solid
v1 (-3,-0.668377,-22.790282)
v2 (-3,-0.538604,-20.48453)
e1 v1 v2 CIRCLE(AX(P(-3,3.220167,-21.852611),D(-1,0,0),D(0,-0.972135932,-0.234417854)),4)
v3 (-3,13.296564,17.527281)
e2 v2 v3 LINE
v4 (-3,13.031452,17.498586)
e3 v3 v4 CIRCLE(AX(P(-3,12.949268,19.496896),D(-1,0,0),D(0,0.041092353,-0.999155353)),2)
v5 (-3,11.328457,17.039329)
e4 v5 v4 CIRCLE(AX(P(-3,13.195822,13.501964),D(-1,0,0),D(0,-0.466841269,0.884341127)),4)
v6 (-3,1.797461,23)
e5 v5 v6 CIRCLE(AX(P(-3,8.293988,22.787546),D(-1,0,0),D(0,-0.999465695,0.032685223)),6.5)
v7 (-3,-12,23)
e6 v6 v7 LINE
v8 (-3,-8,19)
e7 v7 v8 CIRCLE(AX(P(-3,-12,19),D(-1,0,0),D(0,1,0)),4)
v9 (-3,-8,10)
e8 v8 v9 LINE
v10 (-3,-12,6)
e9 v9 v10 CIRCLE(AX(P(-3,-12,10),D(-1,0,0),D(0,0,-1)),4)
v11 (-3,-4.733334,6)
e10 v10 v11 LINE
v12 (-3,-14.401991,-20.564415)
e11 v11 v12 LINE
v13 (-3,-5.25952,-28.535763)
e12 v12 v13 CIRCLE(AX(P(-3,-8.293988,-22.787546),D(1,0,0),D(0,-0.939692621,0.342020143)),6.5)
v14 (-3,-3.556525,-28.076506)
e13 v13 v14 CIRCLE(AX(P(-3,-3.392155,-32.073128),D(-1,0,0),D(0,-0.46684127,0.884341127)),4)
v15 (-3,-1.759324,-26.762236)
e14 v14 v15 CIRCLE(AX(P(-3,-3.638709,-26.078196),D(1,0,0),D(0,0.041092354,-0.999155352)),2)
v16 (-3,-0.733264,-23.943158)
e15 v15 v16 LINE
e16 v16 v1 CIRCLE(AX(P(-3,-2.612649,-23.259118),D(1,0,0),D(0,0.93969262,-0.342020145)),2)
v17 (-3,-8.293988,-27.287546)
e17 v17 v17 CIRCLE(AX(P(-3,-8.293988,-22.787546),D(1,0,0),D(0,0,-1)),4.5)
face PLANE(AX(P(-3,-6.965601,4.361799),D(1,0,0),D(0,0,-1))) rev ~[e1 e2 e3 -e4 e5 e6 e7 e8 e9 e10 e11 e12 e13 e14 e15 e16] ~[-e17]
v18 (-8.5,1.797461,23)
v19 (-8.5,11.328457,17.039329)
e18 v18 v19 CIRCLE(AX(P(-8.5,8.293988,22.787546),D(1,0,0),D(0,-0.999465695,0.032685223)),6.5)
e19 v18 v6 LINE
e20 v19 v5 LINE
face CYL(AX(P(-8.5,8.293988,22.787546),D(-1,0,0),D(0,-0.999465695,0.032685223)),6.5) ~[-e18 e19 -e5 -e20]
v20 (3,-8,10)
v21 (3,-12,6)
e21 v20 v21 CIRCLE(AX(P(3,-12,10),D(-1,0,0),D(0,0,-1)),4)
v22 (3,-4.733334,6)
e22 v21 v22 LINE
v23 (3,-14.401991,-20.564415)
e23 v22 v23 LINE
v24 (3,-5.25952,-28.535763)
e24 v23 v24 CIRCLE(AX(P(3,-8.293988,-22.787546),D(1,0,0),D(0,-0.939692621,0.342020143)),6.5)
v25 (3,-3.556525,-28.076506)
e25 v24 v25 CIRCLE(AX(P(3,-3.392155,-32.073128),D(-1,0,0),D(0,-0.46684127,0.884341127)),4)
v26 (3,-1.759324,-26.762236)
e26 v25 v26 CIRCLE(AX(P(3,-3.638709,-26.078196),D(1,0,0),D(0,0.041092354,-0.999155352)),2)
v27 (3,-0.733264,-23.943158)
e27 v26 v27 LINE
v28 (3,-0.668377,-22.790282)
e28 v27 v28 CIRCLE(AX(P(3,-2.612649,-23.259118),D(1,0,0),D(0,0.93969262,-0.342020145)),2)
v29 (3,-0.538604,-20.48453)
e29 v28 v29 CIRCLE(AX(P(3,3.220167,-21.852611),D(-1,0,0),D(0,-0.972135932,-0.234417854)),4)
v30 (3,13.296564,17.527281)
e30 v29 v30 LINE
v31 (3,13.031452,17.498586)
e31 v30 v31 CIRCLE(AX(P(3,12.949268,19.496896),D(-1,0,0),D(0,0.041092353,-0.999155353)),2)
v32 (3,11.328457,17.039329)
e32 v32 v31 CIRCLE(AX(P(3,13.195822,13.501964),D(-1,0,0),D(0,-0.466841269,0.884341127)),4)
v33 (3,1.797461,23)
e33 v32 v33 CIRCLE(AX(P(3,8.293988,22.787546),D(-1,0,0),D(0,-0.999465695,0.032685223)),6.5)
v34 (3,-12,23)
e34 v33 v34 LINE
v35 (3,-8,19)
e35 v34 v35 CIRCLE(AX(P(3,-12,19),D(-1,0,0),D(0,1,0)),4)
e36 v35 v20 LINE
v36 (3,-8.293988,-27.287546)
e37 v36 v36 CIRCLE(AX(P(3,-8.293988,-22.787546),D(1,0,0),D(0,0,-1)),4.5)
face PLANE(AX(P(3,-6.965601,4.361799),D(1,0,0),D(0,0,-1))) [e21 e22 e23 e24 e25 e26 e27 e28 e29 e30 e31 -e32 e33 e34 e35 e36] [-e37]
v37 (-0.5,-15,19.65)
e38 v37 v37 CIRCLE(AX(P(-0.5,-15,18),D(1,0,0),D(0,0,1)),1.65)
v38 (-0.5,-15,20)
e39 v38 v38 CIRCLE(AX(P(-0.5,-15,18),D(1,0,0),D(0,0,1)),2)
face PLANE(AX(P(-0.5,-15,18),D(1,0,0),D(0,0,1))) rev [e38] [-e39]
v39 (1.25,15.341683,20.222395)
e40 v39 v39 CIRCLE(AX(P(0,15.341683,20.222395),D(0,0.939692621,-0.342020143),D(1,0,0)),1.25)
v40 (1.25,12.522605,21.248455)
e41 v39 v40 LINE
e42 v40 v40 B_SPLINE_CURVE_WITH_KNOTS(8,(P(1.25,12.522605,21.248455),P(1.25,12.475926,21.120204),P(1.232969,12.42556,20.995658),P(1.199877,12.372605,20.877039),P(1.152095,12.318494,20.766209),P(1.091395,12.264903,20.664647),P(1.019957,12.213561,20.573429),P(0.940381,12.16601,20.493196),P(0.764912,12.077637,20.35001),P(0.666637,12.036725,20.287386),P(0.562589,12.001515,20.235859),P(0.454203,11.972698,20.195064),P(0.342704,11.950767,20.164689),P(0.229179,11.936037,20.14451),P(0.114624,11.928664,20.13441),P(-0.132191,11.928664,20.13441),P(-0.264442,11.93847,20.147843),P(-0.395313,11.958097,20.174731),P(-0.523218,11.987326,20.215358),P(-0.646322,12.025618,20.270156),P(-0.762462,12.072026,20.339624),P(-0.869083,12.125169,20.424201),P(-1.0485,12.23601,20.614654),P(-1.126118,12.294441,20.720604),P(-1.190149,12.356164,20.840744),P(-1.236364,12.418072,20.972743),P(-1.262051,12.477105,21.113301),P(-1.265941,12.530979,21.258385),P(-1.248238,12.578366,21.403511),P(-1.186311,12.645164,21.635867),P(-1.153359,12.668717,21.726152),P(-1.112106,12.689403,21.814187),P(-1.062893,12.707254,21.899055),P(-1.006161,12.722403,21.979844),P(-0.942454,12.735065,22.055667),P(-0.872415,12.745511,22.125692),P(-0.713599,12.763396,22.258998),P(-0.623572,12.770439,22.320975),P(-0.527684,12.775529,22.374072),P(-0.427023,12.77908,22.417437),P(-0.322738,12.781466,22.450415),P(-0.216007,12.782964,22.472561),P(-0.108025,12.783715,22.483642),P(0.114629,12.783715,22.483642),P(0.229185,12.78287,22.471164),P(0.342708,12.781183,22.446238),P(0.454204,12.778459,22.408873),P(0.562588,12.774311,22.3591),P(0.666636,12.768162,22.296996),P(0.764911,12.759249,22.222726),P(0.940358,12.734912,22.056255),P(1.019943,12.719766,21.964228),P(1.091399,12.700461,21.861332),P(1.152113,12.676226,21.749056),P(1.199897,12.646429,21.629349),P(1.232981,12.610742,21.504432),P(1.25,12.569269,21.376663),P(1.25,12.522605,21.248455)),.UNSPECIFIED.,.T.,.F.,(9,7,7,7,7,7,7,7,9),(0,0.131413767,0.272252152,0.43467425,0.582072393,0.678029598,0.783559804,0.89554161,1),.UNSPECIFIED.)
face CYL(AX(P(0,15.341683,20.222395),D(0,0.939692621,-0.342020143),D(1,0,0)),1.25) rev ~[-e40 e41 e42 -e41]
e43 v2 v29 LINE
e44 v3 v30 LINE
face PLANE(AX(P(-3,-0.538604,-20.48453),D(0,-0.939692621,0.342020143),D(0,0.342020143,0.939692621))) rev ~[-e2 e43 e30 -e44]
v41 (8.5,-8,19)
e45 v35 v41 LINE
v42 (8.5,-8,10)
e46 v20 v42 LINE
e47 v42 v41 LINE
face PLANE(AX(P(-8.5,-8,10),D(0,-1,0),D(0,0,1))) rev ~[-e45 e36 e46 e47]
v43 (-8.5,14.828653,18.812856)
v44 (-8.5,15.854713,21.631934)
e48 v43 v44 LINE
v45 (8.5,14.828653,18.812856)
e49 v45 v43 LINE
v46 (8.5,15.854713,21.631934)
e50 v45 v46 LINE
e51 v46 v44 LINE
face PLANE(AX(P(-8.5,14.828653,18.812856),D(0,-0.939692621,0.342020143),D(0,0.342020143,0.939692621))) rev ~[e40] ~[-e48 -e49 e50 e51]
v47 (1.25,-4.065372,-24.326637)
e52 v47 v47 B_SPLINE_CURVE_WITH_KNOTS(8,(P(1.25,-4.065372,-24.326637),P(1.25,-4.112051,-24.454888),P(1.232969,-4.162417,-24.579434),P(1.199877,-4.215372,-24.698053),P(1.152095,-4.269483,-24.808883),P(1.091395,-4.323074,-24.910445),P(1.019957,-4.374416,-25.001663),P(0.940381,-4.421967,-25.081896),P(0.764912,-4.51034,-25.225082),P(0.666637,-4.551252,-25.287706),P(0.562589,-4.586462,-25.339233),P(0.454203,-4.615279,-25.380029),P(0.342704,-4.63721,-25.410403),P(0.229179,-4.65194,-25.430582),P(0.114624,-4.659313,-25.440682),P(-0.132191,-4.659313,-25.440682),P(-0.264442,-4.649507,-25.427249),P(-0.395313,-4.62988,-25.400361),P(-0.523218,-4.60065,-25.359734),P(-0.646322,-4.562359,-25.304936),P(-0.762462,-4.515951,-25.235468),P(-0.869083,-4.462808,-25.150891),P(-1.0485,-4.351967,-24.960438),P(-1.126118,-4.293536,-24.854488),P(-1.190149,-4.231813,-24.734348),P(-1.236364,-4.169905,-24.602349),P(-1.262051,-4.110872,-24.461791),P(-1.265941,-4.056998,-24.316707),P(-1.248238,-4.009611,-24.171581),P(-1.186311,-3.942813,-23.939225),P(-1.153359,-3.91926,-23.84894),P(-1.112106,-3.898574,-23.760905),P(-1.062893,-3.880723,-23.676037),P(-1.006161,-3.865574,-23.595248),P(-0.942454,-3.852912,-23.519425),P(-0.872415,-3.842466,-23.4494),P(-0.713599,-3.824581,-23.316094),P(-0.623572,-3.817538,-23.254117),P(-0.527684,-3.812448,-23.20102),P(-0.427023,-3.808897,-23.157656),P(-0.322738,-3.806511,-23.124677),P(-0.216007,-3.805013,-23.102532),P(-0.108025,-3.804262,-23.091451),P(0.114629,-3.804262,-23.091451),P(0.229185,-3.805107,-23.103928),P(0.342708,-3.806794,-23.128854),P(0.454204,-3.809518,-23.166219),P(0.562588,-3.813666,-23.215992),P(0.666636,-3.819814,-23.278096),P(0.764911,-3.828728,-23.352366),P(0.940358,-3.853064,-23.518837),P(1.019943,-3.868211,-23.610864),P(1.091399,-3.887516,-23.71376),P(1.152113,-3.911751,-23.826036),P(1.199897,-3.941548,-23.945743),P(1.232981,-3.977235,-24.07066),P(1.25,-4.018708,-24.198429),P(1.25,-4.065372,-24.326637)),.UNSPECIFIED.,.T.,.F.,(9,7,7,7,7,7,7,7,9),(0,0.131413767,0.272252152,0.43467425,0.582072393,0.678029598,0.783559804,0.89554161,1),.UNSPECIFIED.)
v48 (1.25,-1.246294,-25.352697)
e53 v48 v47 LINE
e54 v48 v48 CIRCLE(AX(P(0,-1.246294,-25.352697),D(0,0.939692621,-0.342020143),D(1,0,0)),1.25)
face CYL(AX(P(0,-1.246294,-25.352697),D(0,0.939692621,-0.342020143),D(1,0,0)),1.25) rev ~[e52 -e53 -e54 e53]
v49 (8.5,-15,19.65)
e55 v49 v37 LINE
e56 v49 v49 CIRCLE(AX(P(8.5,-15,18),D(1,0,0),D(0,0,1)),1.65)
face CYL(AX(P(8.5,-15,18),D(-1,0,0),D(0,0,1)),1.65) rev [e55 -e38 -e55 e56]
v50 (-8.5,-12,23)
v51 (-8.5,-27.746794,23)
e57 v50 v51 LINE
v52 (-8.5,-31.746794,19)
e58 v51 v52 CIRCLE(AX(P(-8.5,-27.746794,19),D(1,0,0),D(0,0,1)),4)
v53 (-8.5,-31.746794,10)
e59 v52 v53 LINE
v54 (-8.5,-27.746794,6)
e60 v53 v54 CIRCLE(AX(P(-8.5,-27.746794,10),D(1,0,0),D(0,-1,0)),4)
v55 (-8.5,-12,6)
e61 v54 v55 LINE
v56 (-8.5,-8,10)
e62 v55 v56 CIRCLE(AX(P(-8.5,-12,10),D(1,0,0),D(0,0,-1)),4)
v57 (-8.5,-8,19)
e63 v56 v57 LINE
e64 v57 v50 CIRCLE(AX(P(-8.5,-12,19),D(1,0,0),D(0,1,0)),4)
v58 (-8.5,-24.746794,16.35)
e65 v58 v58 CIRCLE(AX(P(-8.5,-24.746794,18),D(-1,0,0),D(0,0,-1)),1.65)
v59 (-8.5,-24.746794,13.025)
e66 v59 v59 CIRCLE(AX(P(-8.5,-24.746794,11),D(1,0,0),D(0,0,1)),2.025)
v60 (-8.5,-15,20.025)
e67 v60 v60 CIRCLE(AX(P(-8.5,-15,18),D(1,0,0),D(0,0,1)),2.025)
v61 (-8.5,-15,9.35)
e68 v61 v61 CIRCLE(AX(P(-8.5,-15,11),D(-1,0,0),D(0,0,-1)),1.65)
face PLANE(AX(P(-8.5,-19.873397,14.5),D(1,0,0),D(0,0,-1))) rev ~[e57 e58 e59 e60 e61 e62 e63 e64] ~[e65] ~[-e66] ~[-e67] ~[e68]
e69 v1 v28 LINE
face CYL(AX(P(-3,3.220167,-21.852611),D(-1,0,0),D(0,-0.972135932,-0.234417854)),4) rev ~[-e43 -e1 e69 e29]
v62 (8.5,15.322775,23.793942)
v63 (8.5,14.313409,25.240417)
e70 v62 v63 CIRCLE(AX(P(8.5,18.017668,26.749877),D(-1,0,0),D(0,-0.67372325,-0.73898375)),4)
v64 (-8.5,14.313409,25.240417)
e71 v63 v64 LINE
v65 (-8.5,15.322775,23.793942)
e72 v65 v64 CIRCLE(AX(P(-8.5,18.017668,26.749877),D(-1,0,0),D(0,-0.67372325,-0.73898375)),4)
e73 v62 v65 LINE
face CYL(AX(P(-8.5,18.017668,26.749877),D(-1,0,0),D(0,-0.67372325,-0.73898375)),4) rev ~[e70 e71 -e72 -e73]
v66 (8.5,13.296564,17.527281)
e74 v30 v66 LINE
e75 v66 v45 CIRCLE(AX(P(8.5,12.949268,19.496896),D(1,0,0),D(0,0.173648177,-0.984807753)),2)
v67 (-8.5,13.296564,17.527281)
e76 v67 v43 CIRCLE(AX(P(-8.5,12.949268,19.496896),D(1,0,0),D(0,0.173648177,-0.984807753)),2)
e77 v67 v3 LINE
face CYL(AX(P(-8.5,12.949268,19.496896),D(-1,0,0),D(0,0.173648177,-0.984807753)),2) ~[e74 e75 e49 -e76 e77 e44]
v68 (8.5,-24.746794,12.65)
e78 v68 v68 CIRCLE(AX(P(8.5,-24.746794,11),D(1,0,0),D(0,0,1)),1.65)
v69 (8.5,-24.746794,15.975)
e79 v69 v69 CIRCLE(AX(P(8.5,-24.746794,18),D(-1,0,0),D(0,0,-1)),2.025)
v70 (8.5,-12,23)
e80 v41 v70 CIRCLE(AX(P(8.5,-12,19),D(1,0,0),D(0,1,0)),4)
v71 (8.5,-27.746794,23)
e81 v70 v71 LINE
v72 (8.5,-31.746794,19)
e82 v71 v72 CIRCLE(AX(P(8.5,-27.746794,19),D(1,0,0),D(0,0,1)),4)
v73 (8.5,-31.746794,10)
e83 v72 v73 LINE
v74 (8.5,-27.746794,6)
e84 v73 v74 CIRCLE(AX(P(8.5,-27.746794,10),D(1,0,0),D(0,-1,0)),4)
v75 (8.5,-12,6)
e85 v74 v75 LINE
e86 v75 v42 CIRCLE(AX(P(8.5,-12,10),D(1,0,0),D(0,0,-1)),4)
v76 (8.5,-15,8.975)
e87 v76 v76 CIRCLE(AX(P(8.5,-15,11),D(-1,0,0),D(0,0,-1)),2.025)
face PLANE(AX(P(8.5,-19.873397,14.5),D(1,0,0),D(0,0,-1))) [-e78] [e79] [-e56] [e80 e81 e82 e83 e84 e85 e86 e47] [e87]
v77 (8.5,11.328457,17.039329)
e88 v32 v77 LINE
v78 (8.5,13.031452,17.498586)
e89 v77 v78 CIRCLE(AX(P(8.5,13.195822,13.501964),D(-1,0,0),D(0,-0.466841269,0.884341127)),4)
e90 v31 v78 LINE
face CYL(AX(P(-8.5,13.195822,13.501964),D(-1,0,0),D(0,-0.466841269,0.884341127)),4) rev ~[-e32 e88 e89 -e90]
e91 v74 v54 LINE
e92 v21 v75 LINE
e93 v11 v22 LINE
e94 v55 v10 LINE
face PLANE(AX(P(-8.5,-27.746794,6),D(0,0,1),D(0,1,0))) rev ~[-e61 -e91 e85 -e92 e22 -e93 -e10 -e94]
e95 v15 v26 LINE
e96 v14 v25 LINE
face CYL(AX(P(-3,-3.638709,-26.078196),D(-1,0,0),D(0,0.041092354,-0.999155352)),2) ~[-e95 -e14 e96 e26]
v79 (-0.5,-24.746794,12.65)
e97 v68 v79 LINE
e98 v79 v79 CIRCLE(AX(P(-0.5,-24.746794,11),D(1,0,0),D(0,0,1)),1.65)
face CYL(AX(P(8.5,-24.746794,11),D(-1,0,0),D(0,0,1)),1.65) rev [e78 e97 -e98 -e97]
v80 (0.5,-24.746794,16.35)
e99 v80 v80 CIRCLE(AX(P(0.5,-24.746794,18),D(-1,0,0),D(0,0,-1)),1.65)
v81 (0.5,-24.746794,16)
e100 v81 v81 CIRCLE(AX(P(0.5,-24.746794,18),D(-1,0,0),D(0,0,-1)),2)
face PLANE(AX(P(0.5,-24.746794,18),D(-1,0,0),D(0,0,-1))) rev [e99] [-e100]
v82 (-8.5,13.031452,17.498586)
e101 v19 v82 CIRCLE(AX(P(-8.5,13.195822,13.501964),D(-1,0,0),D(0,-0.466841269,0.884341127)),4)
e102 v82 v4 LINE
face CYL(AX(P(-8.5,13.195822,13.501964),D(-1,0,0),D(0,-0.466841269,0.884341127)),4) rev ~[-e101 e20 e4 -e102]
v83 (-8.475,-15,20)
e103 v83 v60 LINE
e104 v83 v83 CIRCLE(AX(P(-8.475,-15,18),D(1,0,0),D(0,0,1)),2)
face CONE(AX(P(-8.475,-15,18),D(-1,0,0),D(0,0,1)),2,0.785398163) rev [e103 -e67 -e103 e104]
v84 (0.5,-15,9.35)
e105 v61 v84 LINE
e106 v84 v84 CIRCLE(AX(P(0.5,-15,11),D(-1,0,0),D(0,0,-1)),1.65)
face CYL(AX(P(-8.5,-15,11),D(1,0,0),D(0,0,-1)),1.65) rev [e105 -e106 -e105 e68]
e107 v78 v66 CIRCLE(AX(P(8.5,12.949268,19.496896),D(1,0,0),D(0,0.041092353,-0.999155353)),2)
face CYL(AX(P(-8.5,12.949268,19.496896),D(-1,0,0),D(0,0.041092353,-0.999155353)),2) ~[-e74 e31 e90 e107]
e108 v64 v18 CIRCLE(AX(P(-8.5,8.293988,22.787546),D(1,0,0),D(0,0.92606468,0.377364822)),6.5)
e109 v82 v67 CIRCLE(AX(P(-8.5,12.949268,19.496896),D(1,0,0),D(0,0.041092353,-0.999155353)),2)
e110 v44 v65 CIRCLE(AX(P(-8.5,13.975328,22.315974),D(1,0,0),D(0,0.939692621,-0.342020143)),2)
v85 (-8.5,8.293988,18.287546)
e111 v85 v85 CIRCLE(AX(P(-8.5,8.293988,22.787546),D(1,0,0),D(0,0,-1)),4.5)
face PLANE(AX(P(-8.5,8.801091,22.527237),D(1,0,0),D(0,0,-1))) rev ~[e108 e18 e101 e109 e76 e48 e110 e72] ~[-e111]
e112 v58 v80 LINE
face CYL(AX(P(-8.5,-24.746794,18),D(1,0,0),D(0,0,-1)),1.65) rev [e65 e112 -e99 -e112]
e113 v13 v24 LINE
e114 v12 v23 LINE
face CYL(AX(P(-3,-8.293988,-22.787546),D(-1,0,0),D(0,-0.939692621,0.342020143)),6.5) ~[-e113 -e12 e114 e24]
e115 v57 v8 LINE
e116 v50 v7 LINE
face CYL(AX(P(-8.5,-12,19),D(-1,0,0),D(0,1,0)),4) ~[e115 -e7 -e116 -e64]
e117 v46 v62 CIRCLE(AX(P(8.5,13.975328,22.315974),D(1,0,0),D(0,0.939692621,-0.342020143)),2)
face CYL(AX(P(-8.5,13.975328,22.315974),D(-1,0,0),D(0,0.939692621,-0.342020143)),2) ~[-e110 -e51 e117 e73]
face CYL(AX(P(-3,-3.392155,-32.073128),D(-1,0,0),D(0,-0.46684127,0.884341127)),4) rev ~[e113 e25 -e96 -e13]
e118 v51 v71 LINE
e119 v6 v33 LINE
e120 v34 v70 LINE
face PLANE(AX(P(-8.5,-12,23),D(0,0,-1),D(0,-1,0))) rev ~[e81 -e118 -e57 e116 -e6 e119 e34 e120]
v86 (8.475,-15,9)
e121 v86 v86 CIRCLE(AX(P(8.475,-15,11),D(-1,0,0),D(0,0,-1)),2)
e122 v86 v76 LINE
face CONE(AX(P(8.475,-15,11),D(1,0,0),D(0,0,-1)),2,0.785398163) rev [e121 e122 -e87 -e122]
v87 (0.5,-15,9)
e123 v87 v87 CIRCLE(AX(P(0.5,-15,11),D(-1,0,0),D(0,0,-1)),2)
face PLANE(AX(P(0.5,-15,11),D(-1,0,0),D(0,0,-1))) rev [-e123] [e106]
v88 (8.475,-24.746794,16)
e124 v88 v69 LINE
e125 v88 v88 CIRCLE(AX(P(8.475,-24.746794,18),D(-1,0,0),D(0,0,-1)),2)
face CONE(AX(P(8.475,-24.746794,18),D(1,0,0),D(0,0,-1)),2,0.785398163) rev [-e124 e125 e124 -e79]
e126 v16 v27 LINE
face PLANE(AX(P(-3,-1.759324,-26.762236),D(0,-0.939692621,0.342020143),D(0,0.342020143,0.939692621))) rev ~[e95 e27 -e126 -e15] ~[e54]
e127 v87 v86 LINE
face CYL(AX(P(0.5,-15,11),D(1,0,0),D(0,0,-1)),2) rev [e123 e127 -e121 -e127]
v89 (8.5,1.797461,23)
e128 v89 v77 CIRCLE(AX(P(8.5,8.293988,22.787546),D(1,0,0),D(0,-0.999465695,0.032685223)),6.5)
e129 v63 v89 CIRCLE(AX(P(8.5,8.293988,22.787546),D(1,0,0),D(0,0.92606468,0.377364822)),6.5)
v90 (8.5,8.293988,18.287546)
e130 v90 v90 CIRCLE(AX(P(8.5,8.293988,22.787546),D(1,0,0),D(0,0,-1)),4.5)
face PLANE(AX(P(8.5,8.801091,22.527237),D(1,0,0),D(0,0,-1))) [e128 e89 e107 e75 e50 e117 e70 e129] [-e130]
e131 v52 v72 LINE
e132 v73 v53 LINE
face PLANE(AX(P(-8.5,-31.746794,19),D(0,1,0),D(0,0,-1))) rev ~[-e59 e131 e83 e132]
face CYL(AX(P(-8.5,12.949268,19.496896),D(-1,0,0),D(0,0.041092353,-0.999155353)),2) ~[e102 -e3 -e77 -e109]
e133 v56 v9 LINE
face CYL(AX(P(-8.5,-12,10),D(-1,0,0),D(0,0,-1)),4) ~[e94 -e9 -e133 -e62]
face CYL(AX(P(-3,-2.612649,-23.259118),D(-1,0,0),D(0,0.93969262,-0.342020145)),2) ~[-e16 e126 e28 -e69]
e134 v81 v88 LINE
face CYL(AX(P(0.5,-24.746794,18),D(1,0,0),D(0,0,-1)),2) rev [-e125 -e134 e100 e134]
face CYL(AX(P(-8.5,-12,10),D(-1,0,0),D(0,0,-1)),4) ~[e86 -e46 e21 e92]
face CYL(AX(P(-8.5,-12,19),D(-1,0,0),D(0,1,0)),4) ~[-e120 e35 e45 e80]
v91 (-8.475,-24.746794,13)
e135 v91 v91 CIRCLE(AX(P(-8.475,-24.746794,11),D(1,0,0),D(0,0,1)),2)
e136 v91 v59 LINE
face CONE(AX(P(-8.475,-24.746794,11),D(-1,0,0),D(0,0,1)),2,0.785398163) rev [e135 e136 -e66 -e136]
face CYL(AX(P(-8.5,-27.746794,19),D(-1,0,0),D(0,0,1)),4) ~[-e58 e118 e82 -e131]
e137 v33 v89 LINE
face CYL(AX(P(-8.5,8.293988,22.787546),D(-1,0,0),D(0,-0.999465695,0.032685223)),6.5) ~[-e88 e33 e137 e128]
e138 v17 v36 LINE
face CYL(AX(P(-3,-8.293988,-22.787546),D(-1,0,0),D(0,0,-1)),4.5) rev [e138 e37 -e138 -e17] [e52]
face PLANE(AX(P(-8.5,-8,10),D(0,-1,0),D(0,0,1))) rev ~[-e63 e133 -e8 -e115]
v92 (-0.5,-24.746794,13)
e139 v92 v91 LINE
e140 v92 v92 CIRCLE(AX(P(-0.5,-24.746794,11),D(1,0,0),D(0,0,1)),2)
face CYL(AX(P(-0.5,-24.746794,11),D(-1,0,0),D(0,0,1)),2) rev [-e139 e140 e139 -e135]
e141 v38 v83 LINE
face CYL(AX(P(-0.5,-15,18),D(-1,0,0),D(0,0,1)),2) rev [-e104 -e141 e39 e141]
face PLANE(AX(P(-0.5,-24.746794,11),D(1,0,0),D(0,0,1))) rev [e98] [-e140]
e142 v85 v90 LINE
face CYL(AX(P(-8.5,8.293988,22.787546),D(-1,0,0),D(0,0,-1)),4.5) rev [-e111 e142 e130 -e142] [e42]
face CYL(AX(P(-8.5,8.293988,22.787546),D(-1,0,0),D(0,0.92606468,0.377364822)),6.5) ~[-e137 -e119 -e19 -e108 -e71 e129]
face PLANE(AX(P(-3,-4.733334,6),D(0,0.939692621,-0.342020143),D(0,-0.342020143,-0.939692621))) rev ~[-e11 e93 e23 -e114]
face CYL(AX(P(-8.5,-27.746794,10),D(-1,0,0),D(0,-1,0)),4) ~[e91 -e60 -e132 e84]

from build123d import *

# Parameters (mm, degrees)
BOSS_EXTRUDE1_DEPTH        = 3
BOSS_EXTRUDE1_DEPTH_BACK   = 3
SKETCH2_R                  = 4.5
BOSS_EXTRUDE2_DEPTH        = 8.5
BOSS_EXTRUDE2_DEPTH_BACK   = 8.5
SKETCH2_4_R                = 4.5
BOSS_EXTRUDE3_DEPTH        = 8.5
BOSS_EXTRUDE3_DEPTH_BACK   = 8.5
M3_TAPPED_HOLE1_REACH      = 52.91
M3_TAPPED_HOLE1_BORE_R     = 1.25
M3_TAPPED_HOLE2_REACH      = 52.91
M3_TAPPED_HOLE2_BORE_R     = 1.25
M4_TAPPED_HOLE1_AT_2_COUNT = 2
M4_TAPPED_HOLE1_AT_2_PITCH = 12
M5_TAPPED_HOLE2_AT_2_COUNT = 2
M5_TAPPED_HOLE2_AT_2_PITCH = 12


with BuildPart() as part:
    # Sketch2 → Boss-Extrude1 (new, two sides: drawn at the far end of the back side and taken through both)
    with BuildSketch(Plane(origin=(0, 0, 0), x_dir=(0, 0, -1), z_dir=(1, 0, 0)).offset(-BOSS_EXTRUDE1_DEPTH_BACK)):
        with BuildLine():
            Line((-6, -4.733334115), (20.564415122, -14.401990511))
            ThreePointArc((20.564415122, -14.401990511), (27.686806127, -12.56566856), (28.53576338, -5.259520223))
            ThreePointArc((28.53576338, -5.259520223), (28.211096751, -4.433651902), (28.076506478, -3.556524566))
            ThreePointArc((28.076506478, -3.556524566), (27.692579293, -2.458130667), (26.76223606, -1.759324035))
            Line((26.76223606, -1.759324035), (23.943158198, -0.733263605))
            ThreePointArc((23.943158198, -0.733263605), (23.371504837, -0.615809048), (22.790282203, -0.668376983))
            ThreePointArc((22.790282203, -0.668376983), (21.627836935, -0.773512852), (20.484530213, -0.538603739))
            Line((20.484530213, -0.538603739), (-17.527280829, 13.29656403))
            ThreePointArc((-17.527280829, 13.29656403), (-17.964807448, 14.234842894), (-18.812856048, 14.828652917))
            Line((-18.812856048, 14.828652917), (-21.63193391, 15.854713347))
            ThreePointArc((-21.63193391, 15.854713347), (-22.793802419, 15.917409512), (-23.793941695, 15.322774607))
            ThreePointArc((-23.793941695, 15.322774607), (-24.460850408, 14.737369045), (-25.2404174, 14.313408893))
            ThreePointArc((-25.2404174, 14.313408893), (-29.18584464, 7.14866092), (-23, 1.797461456))
            Line((-23, 1.797461456), (-23, -27.746794345))
            ThreePointArc((-23, -27.746794345), (-21.828427125, -30.57522147), (-19, -31.746794345))
            Line((-19, -31.746794345), (-10, -31.746794345))
            ThreePointArc((-10, -31.746794345), (-7.171572875, -30.57522147), (-6, -27.746794345))
            Line((-6, -27.746794345), (-6, -4.733334115))
        make_face()
        with Locations((22.787546054, -8.293988476)):
            Circle(SKETCH2_R, mode=Mode.SUBTRACT)
        with Locations((-22.787546054, 8.293988476)):
            Circle(SKETCH2_R, mode=Mode.SUBTRACT)
    extrude(amount=BOSS_EXTRUDE1_DEPTH + BOSS_EXTRUDE1_DEPTH_BACK)

    # Sketch2<4> → Boss-Extrude2 (add, two sides: drawn at the far end of the back side and taken through both)
    with BuildSketch(Plane(origin=(0, 0, 0), x_dir=(0, 0, -1), z_dir=(1, 0, 0)).offset(-BOSS_EXTRUDE2_DEPTH_BACK)):
        with BuildLine():
            ThreePointArc((-25.2404174, 14.313408893), (-29.18584464, 7.14866092), (-23, 1.797461456))
            ThreePointArc((-23, 1.797461456), (-17.276544623, 4.847415797), (-17.039328728, 11.328456728))
            ThreePointArc((-17.039328728, 11.328456728), (-17.363995357, 12.15432505), (-17.49858563, 13.031452385))
            ThreePointArc((-17.49858563, 13.031452385), (-17.508509891, 13.164486982), (-17.527280829, 13.29656403))
            ThreePointArc((-17.527280829, 13.29656403), (-17.964807448, 14.234842894), (-18.812856048, 14.828652917))
            Line((-18.812856048, 14.828652917), (-21.63193391, 15.854713347))
            ThreePointArc((-21.63193391, 15.854713347), (-22.793802419, 15.917409512), (-23.793941695, 15.322774607))
            ThreePointArc((-23.793941695, 15.322774607), (-24.460850408, 14.737369045), (-25.2404174, 14.313408893))
        make_face()
        with Locations((-22.787546054, 8.293988476)):
            Circle(SKETCH2_4_R, mode=Mode.SUBTRACT)
    extrude(amount=BOSS_EXTRUDE2_DEPTH + BOSS_EXTRUDE2_DEPTH_BACK)

    # Sketch2<5> → Boss-Extrude3 (add, two sides: drawn at the far end of the back side and taken through both)
    with BuildSketch(Plane(origin=(0, 0, 0), x_dir=(0, 0, -1), z_dir=(1, 0, 0)).offset(-BOSS_EXTRUDE3_DEPTH_BACK)):
        with BuildLine():
            Line((-6, -27.746794345), (-6, -12))
            ThreePointArc((-6, -12), (-7.171572875, -9.171572875), (-10, -8))
            Line((-10, -8), (-19, -8))
            ThreePointArc((-19, -8), (-21.828427125, -9.171572875), (-23, -12))
            Line((-23, -12), (-23, -27.746794345))
            ThreePointArc((-23, -27.746794345), (-21.828427125, -30.57522147), (-19, -31.746794345))
            Line((-19, -31.746794345), (-10, -31.746794345))
            ThreePointArc((-10, -31.746794345), (-7.171572875, -30.57522147), (-6, -27.746794345))
        make_face()
    extrude(amount=BOSS_EXTRUDE3_DEPTH + BOSS_EXTRUDE3_DEPTH_BACK)

    # M3 Tapped Hole1 bore → M3 Tapped Hole1 (cut, up to next)
    with BuildSketch(Plane(origin=(0, 7.047694656, -2.565151075), x_dir=(1, 0, 0), z_dir=(0, 0.9396926207859064, -0.3420201433256741)), mode=Mode.PRIVATE) as m3_tapped_hole1_sk1:
        with Locations((0, -24.25)):
            Circle(M3_TAPPED_HOLE1_BORE_R)
    m3_tapped_hole1_tool1 = extrude(m3_tapped_hole1_sk1.sketch, amount=-M3_TAPPED_HOLE1_REACH, mode=Mode.PRIVATE) & part.part
    add(m3_tapped_hole1_tool1.solids().sort_by_distance((0, 15.341683, 20.222395))[0], mode=Mode.SUBTRACT)

    # M3 Tapped Hole2 bore → M3 Tapped Hole2 (cut, up to next)
    with BuildSketch(Plane(origin=(0, 7.047694656, -2.565151075), x_dir=(1, 0, 0), z_dir=(0, 0.9396926207859064, -0.34202014332567404)), mode=Mode.PRIVATE) as m3_tapped_hole2_sk1:
        with Locations((0, 24.25)):
            Circle(M3_TAPPED_HOLE2_BORE_R)
    m3_tapped_hole2_tool1 = extrude(m3_tapped_hole2_sk1.sketch, amount=-M3_TAPPED_HOLE2_REACH, mode=Mode.PRIVATE) & part.part
    add(m3_tapped_hole2_tool1.solids().sort_by_distance((0, -1.246294, -25.352697))[0], mode=Mode.SUBTRACT)

    # Sketch10 → M4 Tapped Hole1 (revolve, cut)
    with BuildSketch(Plane(origin=(-8.5, -15, 18), x_dir=(0, 0, 1), z_dir=(0, 1, 0))):
        Polygon((0, 0), (0, 17), (1.65, 17), (1.65, 8), (2, 8), (2, 0.025), (2.025, 0), align=None)
    m4_tapped_hole1 = revolve(axis=Axis((-14.85, -15, 18), (1, 0, 0)), mode=Mode.SUBTRACT)

    # M4 Tapped Hole1 at 2: M4 Tapped Hole1 ×2
    with Locations(*[Vector(0, -0.8122328620674102, -0.5833333333333383) * (i * M4_TAPPED_HOLE1_AT_2_PITCH) for i in range(1, M4_TAPPED_HOLE1_AT_2_COUNT)]):
        add(m4_tapped_hole1, mode=Mode.SUBTRACT)

    # Sketch12 → M5 Tapped Hole2 (revolve, cut)
    with BuildSketch(Plane(origin=(8.5, -15, 11), x_dir=(0, 0, -1), z_dir=(0, 1, 0))):
        Polygon((0, 0), (0, 17), (1.65, 17), (1.65, 8), (2, 8), (2, 0.025), (2.025, 0), align=None)
    m5_tapped_hole2 = revolve(axis=Axis((14.85, -15, 11), (-1, 0, 0)), mode=Mode.SUBTRACT)

    # M5 Tapped Hole2 at 2: M5 Tapped Hole2 ×2
    with Locations(*[Vector(0, -0.8122328620674105, 0.5833333333333377) * (i * M5_TAPPED_HOLE2_AT_2_PITCH) for i in range(1, M5_TAPPED_HOLE2_AT_2_COUNT)]):
        add(m5_tapped_hole2, mode=Mode.SUBTRACT)


solid = part.part
